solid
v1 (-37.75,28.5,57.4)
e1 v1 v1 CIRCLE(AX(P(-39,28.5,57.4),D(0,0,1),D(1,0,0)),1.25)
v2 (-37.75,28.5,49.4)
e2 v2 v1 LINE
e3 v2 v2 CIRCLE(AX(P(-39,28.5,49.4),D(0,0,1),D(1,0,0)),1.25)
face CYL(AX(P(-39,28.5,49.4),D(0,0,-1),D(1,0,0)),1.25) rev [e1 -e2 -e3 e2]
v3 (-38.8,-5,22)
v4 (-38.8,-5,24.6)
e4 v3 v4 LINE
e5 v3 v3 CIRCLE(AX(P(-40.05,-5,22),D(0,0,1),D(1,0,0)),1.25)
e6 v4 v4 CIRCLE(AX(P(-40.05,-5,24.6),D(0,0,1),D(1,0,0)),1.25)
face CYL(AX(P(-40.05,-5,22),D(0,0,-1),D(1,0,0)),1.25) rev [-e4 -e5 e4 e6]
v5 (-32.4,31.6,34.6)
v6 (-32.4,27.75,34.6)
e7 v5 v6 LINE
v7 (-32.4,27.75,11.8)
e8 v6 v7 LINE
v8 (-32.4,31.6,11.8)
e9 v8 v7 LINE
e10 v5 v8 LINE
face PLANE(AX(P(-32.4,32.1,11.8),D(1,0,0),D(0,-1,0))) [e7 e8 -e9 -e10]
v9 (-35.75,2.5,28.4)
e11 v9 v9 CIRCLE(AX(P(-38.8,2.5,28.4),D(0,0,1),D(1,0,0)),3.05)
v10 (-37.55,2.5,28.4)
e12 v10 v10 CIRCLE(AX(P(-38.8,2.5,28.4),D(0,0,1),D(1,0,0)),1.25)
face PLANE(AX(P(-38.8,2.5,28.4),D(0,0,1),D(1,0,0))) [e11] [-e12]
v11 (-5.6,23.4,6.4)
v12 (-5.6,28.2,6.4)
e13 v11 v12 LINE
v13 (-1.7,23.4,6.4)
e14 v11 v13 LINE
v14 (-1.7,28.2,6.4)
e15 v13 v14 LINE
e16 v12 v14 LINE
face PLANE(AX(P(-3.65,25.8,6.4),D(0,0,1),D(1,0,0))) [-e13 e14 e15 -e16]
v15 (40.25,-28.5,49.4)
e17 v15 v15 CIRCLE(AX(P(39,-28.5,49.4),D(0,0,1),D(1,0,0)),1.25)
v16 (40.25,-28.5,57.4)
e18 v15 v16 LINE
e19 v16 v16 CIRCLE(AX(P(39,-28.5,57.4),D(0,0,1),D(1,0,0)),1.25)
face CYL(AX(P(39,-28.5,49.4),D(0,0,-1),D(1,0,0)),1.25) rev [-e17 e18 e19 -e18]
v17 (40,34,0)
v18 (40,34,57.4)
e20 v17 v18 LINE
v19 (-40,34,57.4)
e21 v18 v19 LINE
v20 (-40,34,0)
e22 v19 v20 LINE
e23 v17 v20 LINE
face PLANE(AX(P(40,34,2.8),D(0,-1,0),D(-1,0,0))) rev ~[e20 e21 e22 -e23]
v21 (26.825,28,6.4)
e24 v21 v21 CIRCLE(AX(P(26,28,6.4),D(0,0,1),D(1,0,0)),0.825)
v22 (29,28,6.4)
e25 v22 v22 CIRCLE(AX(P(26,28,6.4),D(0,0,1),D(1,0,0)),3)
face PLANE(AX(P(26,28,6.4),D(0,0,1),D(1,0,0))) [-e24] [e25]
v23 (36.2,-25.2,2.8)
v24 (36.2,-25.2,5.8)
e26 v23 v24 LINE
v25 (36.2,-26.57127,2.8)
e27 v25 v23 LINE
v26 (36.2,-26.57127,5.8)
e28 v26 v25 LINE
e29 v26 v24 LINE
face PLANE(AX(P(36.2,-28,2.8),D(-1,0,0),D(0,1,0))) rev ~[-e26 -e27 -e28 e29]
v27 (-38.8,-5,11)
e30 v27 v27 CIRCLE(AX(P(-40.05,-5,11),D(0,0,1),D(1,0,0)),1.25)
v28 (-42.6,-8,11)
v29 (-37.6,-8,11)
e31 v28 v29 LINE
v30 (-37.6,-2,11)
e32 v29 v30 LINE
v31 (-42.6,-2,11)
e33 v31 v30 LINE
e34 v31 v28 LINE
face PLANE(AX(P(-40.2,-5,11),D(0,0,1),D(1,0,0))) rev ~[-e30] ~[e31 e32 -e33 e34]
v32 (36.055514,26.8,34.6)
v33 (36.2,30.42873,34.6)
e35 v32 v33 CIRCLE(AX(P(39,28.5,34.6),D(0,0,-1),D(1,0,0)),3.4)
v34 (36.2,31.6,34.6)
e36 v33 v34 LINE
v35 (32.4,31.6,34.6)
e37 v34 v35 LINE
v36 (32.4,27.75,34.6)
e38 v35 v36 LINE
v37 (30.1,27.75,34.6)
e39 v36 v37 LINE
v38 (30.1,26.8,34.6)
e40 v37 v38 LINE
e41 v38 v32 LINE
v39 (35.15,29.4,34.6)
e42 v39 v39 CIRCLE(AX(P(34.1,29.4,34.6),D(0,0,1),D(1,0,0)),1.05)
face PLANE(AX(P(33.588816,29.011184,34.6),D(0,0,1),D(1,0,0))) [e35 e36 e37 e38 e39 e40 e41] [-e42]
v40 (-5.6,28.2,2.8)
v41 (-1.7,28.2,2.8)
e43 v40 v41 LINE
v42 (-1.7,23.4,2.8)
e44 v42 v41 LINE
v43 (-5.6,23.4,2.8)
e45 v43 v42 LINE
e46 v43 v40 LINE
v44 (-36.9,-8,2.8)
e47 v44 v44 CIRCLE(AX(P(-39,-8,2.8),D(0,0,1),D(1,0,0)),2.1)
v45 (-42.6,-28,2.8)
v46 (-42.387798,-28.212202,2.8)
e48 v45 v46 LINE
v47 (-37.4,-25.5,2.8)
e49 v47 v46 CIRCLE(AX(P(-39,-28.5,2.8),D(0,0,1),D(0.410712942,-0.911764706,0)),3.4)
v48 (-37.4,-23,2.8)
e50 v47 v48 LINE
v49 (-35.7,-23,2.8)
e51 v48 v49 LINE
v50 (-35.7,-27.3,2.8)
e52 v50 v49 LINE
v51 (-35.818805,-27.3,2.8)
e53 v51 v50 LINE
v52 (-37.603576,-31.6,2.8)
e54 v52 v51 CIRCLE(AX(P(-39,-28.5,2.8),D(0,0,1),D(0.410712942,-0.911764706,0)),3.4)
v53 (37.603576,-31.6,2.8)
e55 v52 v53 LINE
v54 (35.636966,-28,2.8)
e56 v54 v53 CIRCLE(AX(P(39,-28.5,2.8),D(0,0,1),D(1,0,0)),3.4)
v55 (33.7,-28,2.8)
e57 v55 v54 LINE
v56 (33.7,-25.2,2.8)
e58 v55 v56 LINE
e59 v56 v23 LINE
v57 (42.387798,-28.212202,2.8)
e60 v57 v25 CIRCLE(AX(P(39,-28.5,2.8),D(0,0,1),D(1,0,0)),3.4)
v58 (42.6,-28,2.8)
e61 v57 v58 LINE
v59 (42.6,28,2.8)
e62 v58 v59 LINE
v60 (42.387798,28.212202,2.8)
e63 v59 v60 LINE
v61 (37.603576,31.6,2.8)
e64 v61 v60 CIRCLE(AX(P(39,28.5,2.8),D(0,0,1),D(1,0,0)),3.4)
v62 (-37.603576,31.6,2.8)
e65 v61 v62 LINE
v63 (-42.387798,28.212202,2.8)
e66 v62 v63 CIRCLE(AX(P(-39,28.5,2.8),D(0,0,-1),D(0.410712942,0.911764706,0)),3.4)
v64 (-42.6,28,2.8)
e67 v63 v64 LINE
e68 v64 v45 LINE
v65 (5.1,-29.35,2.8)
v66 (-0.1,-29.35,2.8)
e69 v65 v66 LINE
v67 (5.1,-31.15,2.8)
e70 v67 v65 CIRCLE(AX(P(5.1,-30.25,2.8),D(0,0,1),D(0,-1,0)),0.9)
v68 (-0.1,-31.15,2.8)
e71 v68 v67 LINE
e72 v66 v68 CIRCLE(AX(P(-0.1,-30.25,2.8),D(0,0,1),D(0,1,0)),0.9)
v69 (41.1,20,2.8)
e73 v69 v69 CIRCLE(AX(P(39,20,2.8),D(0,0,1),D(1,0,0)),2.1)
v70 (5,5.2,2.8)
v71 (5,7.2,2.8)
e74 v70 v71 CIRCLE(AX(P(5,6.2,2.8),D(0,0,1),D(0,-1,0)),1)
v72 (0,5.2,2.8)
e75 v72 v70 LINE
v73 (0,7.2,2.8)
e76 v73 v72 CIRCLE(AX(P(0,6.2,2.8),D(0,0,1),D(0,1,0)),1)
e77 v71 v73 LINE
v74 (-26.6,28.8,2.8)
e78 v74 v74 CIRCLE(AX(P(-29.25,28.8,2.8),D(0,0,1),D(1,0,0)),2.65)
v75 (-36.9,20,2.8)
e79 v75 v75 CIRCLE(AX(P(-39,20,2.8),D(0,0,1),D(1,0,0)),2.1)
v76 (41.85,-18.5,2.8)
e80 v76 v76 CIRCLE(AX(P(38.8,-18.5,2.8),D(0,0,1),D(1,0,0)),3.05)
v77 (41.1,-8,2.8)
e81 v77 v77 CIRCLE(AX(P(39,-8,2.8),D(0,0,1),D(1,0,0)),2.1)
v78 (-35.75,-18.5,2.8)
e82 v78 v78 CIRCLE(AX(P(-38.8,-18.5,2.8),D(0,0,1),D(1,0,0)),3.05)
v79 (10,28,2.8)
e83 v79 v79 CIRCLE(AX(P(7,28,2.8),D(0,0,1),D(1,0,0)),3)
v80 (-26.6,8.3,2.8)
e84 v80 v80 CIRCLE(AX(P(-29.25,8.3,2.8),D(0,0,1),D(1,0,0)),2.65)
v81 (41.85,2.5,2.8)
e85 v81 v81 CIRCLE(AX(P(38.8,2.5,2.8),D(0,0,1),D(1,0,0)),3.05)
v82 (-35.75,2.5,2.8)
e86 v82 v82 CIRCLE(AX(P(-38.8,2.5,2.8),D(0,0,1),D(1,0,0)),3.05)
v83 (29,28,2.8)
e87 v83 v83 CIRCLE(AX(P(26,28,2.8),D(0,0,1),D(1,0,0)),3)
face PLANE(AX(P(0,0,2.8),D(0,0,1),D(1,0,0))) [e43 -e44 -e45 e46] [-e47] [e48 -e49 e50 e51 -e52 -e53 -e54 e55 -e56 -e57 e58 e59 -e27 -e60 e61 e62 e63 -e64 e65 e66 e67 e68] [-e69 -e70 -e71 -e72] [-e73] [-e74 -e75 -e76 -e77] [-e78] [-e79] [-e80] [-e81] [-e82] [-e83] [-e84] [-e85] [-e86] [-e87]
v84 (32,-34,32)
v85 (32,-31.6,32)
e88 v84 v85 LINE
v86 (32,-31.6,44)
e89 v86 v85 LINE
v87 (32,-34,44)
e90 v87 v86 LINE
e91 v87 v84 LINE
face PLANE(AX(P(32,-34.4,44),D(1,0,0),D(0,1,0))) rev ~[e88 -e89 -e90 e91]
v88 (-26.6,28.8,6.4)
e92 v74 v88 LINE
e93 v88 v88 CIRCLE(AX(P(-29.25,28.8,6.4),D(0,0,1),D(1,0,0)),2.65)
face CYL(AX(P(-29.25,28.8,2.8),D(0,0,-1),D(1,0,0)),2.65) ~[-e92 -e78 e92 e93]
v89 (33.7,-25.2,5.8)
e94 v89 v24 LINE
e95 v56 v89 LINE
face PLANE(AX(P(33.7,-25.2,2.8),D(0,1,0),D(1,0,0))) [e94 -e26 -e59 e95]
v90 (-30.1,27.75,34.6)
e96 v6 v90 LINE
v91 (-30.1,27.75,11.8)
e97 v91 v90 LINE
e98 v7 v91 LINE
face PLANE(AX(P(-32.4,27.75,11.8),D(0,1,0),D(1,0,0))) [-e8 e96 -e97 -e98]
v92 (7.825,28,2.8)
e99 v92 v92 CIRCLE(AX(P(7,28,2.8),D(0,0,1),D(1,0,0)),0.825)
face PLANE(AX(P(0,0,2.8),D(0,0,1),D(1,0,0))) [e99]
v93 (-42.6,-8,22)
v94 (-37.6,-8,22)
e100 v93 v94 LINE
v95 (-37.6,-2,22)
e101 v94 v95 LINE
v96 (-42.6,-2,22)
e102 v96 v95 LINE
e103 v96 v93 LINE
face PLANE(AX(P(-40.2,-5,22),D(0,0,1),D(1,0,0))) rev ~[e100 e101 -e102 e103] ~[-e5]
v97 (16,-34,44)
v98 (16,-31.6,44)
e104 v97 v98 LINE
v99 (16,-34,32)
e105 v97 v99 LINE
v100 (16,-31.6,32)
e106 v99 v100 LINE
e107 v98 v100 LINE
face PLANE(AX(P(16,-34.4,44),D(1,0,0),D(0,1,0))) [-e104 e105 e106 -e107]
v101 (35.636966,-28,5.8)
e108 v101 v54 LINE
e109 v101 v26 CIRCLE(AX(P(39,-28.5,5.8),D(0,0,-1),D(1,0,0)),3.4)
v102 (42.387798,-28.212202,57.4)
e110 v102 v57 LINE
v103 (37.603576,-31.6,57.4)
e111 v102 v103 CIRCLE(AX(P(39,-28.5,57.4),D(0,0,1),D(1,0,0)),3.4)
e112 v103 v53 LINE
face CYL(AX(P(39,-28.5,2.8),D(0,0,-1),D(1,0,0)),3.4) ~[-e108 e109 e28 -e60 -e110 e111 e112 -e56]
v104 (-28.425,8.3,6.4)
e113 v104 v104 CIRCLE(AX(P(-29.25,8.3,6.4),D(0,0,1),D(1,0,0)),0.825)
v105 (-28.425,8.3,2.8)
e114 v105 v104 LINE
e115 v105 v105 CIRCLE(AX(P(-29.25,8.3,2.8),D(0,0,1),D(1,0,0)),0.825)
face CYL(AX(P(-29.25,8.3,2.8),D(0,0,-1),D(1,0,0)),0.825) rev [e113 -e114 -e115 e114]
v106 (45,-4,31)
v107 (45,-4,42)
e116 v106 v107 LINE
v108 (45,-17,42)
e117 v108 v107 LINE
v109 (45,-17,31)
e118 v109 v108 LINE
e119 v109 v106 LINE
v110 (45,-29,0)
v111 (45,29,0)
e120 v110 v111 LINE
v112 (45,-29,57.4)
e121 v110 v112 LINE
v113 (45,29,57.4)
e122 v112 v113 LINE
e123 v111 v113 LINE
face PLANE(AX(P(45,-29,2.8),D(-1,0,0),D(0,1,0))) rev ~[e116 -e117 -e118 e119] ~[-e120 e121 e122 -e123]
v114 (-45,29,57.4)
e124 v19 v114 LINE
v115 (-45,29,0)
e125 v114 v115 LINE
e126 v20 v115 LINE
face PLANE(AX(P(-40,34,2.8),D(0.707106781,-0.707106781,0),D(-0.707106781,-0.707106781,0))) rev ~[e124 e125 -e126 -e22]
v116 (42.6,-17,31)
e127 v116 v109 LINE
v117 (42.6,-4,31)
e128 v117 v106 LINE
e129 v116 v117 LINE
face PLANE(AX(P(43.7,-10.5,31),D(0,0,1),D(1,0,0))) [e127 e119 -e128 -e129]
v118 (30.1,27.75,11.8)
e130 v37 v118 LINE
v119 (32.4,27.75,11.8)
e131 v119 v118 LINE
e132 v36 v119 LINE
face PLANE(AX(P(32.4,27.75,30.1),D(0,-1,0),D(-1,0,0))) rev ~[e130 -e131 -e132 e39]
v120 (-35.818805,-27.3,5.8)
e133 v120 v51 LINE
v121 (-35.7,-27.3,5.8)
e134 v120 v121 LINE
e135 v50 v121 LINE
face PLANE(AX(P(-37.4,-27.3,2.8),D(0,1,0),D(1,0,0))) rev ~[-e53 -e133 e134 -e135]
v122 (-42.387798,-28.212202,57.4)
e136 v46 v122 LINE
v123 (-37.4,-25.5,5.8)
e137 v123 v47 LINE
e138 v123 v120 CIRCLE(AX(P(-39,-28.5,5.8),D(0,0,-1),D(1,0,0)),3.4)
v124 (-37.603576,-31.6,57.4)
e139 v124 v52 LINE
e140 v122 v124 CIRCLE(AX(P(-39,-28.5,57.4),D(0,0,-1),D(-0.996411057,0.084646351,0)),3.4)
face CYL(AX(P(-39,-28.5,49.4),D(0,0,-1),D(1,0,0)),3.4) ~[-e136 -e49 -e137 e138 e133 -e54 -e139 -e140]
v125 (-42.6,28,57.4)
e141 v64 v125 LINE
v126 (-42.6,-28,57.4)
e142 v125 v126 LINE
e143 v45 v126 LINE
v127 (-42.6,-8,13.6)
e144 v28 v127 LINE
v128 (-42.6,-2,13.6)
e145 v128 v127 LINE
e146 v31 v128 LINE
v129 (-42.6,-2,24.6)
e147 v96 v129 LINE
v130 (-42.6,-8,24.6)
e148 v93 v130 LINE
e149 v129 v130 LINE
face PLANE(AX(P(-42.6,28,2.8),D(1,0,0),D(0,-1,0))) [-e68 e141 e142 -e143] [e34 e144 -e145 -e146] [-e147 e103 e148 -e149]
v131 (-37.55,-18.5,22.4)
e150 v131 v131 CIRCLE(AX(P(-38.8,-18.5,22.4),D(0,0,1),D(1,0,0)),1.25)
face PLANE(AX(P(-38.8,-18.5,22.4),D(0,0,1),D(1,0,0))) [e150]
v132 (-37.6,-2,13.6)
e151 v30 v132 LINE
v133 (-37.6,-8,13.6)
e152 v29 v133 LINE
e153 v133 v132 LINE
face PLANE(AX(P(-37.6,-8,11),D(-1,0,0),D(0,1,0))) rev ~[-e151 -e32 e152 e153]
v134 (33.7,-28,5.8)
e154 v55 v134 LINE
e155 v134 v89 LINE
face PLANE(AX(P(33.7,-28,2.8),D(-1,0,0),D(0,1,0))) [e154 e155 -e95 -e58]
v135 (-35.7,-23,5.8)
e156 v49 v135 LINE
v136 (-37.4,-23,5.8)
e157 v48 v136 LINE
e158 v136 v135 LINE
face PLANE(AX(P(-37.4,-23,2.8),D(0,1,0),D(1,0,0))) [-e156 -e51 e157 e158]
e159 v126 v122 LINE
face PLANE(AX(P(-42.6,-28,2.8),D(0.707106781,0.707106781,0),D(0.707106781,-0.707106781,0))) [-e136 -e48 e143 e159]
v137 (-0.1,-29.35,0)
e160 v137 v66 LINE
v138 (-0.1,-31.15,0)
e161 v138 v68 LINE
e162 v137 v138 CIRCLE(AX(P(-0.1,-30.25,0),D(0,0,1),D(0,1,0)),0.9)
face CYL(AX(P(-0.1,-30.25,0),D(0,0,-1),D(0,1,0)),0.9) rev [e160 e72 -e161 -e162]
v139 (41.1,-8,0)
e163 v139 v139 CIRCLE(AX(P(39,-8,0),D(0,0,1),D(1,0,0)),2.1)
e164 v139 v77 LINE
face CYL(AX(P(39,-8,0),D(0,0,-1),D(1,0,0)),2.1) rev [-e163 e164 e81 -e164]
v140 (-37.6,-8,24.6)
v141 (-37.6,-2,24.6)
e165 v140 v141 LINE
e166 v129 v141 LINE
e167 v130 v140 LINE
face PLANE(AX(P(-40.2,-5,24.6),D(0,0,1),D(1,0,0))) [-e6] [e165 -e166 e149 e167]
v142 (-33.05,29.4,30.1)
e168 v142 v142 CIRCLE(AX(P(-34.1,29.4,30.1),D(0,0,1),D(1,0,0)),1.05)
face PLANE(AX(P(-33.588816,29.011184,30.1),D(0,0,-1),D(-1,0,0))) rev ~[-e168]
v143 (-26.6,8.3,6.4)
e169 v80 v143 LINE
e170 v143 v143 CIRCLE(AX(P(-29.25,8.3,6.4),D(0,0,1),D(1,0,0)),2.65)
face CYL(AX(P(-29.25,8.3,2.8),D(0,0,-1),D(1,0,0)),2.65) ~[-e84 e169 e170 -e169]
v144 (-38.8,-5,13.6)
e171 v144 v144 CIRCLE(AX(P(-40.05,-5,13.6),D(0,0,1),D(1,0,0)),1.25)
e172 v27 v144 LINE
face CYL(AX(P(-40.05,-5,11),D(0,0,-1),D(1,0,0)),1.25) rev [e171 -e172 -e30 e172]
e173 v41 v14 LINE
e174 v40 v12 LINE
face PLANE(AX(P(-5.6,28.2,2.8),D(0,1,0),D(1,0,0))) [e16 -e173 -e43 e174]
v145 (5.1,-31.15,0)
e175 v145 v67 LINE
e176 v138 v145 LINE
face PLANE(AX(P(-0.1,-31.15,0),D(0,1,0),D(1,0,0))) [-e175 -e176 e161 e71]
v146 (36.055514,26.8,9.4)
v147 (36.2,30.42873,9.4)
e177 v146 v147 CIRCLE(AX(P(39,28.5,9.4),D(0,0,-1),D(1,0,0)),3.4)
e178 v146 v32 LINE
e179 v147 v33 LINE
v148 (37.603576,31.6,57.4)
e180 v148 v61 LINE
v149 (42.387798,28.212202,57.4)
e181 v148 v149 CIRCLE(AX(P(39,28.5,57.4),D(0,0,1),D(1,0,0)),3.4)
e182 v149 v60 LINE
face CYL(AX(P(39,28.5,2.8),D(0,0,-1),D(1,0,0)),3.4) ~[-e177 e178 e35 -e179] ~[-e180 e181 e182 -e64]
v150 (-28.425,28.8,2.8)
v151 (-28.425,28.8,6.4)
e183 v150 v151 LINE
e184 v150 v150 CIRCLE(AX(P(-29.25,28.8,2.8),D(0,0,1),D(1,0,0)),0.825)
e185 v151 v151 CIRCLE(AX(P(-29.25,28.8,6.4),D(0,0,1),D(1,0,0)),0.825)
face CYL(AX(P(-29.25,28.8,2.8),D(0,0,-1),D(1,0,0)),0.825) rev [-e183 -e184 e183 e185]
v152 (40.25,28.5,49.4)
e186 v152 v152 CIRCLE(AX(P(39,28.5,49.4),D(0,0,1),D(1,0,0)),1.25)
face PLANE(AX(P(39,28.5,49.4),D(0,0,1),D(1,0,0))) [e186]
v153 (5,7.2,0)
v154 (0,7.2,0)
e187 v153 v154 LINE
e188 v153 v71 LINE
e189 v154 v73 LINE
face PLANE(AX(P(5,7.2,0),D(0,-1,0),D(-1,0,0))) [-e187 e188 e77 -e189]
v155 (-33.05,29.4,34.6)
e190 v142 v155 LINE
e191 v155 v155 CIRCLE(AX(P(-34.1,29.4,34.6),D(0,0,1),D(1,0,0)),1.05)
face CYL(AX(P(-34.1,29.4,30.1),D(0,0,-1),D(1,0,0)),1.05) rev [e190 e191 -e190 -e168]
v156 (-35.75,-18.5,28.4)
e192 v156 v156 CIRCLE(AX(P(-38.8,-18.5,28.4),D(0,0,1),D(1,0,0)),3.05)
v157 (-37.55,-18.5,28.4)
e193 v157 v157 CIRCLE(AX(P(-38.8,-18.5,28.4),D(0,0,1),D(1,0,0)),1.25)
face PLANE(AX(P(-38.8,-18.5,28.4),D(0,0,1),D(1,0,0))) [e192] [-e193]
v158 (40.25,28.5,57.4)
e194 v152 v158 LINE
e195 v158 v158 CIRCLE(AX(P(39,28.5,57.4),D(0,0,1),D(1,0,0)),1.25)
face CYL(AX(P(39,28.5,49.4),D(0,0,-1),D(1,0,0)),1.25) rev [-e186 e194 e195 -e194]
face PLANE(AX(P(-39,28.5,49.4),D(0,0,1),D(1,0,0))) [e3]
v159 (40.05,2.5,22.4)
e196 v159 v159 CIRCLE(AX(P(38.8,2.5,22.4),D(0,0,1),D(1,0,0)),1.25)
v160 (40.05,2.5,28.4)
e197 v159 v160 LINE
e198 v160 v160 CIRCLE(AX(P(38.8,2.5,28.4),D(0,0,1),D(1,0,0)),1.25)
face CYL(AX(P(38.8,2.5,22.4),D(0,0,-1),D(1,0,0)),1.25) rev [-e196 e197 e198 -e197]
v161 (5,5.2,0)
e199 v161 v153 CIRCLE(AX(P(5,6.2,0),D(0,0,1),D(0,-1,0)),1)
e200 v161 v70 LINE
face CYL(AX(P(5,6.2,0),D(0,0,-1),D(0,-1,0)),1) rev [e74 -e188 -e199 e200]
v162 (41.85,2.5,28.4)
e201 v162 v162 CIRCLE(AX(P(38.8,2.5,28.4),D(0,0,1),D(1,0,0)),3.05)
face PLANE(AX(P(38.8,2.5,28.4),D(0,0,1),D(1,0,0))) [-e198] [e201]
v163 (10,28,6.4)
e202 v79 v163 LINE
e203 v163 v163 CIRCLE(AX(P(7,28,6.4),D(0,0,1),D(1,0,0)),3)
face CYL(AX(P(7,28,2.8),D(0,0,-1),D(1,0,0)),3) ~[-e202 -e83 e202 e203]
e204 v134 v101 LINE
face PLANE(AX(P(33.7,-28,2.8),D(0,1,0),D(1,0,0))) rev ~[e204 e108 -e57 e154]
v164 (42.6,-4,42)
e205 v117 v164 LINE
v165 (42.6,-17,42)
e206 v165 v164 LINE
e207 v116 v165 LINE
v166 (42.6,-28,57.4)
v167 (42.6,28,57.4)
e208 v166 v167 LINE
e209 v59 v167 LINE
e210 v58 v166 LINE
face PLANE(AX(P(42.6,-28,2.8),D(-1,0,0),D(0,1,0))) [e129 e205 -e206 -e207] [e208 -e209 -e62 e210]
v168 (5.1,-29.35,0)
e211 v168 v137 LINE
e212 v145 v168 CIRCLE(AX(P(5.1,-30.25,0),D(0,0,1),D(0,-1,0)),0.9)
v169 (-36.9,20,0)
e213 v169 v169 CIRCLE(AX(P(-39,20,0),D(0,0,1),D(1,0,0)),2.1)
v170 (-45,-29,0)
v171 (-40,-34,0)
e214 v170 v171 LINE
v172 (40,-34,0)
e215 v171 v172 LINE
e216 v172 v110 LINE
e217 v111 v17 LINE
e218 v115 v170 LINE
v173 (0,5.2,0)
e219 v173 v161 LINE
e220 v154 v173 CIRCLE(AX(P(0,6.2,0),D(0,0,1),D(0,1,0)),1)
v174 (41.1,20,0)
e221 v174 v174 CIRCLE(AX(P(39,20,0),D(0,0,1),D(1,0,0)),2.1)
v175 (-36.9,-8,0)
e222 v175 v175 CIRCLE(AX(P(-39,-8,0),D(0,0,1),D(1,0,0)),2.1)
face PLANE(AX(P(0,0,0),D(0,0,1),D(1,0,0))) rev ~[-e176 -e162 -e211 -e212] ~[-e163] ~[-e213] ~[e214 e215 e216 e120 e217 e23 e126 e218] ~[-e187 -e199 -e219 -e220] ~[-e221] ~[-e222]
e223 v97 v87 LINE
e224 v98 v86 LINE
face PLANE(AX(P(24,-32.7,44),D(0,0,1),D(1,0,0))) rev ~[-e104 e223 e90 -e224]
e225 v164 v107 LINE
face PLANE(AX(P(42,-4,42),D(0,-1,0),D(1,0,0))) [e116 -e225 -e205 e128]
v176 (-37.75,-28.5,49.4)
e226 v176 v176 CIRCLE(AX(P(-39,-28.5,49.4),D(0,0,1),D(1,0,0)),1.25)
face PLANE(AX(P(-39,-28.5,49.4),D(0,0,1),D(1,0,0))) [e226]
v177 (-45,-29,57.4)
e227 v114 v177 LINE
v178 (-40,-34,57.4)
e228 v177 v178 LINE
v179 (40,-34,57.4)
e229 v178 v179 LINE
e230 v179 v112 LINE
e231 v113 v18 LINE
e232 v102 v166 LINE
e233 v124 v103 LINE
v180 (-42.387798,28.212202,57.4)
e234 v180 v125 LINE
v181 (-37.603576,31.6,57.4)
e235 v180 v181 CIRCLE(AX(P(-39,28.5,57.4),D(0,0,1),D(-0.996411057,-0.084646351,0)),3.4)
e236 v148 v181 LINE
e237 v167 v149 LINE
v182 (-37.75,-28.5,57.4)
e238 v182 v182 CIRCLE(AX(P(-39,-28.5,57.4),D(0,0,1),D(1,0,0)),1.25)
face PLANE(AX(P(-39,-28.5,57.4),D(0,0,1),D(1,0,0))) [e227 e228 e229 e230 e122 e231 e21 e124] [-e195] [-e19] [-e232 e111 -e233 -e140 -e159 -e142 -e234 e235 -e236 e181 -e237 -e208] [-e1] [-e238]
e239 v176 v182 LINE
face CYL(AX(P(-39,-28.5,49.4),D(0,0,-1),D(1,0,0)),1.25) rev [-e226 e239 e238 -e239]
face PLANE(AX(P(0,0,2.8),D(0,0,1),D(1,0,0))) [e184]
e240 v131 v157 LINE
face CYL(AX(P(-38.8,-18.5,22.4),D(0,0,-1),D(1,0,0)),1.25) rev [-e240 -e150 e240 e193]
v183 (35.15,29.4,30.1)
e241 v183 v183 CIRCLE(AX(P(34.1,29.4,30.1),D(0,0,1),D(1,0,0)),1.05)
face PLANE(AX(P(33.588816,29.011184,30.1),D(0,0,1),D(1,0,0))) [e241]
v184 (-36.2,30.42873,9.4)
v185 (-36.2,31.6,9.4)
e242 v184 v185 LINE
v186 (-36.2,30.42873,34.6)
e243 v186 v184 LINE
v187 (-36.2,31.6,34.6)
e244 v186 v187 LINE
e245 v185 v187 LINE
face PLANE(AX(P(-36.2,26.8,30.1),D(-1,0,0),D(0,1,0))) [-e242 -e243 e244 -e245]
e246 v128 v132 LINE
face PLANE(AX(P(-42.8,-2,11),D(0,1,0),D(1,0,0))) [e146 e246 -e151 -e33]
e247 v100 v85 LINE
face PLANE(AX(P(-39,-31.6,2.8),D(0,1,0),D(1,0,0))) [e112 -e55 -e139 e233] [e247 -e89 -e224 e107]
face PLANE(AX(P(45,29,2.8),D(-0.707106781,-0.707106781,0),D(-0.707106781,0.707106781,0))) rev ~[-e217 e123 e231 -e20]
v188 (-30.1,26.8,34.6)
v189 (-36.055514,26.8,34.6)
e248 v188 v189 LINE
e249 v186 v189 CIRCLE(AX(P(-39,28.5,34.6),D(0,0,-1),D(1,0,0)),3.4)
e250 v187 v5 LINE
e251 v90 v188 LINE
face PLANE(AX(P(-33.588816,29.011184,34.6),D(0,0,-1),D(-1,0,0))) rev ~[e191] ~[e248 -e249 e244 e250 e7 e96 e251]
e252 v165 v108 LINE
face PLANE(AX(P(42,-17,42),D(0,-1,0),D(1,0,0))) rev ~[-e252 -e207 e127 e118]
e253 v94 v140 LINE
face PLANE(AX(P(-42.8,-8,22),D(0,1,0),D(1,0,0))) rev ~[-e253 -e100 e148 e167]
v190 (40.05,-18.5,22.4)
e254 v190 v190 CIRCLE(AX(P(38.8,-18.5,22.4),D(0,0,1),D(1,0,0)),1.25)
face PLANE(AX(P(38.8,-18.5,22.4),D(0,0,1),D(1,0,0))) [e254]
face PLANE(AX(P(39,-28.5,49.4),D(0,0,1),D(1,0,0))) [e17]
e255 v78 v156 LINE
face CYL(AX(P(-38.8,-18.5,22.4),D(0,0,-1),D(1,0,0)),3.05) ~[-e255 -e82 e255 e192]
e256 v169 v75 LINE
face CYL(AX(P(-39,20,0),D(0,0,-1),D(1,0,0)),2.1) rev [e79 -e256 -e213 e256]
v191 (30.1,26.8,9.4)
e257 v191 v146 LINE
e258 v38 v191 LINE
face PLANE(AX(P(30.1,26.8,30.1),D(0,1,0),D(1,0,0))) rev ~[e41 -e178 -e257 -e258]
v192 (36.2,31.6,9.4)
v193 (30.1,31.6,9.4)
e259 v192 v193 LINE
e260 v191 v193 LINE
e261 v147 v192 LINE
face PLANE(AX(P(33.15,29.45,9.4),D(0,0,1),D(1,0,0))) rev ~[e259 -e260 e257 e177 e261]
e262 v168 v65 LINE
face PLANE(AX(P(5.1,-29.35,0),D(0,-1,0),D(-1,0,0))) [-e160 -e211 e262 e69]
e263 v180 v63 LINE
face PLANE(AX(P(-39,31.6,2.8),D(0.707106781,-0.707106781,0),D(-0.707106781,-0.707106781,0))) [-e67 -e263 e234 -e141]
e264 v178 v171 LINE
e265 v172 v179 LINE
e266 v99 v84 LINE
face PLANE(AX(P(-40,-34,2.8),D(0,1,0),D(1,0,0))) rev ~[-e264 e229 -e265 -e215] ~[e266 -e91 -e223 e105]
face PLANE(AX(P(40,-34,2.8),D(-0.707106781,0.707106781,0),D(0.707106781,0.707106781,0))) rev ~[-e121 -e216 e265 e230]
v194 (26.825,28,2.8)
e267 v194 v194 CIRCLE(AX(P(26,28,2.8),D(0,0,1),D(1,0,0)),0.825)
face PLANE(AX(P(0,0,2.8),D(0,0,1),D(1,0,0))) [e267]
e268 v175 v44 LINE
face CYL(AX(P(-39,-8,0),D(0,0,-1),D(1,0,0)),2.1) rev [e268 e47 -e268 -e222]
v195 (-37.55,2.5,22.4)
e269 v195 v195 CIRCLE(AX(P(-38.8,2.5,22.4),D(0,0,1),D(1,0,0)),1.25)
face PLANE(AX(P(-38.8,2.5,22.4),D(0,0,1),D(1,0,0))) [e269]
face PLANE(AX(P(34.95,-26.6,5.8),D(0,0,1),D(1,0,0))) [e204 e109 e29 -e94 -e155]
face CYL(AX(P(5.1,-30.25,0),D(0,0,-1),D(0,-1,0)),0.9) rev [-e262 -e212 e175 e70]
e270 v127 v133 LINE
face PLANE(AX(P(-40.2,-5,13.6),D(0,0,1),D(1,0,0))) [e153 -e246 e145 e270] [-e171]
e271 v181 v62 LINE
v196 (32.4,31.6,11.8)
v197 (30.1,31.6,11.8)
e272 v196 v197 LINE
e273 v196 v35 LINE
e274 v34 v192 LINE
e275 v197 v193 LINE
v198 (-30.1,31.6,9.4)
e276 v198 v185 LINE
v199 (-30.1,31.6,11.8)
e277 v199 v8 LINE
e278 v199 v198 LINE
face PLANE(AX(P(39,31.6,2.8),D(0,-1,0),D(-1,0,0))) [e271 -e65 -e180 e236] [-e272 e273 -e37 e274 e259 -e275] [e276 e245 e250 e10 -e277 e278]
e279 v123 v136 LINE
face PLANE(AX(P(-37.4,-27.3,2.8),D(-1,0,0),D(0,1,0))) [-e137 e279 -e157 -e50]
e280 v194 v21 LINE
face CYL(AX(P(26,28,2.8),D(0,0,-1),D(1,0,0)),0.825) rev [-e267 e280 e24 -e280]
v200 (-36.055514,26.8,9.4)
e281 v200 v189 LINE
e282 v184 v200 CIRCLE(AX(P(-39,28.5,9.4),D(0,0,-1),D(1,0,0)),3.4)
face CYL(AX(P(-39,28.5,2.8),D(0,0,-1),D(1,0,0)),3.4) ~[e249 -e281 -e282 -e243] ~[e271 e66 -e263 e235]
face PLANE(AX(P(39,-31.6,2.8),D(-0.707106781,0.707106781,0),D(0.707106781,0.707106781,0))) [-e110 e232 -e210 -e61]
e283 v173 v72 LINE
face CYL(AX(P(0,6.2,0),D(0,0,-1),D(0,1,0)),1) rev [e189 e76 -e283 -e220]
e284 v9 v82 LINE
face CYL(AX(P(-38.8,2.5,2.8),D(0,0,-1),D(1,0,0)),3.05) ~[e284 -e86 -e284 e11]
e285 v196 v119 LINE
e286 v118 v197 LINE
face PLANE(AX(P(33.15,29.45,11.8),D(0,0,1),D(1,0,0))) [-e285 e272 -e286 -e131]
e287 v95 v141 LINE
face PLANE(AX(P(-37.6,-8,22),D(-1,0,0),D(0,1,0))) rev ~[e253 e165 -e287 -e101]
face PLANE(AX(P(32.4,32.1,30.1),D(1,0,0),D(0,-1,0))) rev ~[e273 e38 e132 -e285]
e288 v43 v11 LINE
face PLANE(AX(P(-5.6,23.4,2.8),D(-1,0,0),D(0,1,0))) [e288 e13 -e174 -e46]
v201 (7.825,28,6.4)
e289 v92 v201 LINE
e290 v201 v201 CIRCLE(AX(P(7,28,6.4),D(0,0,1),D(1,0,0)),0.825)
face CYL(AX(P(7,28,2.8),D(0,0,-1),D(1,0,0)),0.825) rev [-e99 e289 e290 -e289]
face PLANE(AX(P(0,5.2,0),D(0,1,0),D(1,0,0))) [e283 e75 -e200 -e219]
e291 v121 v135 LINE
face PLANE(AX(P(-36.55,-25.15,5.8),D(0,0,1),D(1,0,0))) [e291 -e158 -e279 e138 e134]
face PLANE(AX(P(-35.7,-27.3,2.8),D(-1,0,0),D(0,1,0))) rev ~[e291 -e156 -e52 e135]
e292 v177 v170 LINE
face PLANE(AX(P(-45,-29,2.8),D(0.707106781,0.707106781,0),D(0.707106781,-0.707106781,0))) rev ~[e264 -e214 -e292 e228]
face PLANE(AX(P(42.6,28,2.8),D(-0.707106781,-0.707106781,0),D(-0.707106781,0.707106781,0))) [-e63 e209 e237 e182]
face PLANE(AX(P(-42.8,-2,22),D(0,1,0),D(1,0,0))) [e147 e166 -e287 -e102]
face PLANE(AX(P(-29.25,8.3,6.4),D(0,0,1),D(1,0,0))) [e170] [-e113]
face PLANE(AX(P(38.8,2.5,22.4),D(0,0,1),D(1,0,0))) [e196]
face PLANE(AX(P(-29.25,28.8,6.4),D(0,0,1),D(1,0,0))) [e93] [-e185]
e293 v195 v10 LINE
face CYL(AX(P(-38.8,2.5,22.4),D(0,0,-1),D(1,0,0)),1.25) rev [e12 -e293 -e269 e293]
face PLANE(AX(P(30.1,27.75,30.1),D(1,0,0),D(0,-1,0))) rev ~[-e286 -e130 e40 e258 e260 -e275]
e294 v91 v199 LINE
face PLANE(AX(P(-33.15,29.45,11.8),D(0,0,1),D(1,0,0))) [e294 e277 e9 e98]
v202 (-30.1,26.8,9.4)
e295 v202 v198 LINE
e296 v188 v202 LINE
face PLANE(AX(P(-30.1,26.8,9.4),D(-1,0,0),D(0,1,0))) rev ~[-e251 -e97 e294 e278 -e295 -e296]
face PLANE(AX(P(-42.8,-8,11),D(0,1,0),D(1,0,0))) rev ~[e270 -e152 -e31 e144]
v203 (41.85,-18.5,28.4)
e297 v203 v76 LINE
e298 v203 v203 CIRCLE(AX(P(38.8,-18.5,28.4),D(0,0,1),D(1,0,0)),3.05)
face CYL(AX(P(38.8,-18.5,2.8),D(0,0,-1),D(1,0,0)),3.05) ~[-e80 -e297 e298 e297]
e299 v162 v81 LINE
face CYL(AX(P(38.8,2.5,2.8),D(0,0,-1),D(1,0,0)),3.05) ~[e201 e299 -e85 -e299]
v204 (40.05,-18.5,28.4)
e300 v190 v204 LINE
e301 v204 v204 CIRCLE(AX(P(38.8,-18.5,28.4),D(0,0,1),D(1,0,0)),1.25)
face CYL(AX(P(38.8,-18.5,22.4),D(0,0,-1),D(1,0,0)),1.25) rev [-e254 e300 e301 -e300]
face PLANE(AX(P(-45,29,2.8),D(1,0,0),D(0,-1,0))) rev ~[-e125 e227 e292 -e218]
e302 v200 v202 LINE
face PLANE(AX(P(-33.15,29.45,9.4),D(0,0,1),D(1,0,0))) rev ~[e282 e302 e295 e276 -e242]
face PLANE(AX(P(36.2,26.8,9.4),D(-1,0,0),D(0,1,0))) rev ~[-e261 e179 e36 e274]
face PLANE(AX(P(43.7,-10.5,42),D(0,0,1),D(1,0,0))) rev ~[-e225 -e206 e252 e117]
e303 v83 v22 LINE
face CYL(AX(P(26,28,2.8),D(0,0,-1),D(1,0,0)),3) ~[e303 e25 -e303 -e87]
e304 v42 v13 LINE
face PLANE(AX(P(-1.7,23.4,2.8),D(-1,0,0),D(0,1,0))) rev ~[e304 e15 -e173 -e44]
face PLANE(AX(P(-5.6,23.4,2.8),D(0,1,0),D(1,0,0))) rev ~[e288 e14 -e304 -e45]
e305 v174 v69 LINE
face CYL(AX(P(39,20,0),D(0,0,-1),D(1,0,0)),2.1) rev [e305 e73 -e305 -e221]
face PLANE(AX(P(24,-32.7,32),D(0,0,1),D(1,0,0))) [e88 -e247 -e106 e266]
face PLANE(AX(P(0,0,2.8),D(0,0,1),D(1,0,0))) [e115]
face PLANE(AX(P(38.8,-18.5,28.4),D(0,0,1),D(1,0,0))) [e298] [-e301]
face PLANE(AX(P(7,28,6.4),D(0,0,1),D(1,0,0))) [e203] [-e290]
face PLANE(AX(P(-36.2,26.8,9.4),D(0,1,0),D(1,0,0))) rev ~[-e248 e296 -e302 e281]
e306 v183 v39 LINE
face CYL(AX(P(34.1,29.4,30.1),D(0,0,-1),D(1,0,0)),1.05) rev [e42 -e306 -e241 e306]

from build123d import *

# Parameters (mm, degrees)
FLOOR_CASE_MOUNTING_AND_BATTERY_ST_2_R       = 2.1
FLOOR_CASE_MOUNTING_AND_BATTERY_STRAP_DEPTH  = 2.8
F_2_4_START                                  = 2.8
F_2_4_MM_WALLS_DEPTH                         = 54.6
LID_START                                    = 2.8
LID_POSTS_D2_5_PILOTS_CORE_PROFILE_R         = 3.4
LID_POSTS_D2_5_PILOTS_CORE_DEPTH             = 46.6
LID_START_2                                  = 49.4
LID_POSTS_D2_5_PILOTS_PROFILE_R              = 3.4
LID_POSTS_D2_5_PILOTS_PROFILE_R_2            = 1.25
LID_POSTS_D2_5_PILOTS_DEPTH                  = 8
UPPER_START                                  = 2.8
UPPER_SHELF_POSTS_D2_5_PILOTS_CORE_PRO_R     = 3.05
UPPER_SHELF_POSTS_D2_5_PILOTS_CORE_DEPTH     = 19.6
UPPER_START_2                                = 22.4
UPPER_SHELF_POSTS_D2_5_PILOTS_PROFILE_R      = 3.05
UPPER_SHELF_POSTS_D2_5_PILOTS_PROFILE_R_2    = 1.25
UPPER_SHELF_POSTS_D2_5_PILOTS_DEPTH          = 6
IIM_START                                    = 2.8
IIM_SENSOR_TWO_D1_65_PILOTS_ON_19_2_R        = 3
IIM_SENSOR_TWO_D1_65_PILOTS_ON_19_2_R_2      = 0.825
IIM_SENSOR_TWO_D1_65_PILOTS_ON_19_MM_C_DEPTH = 3.6
LC76G_START                                  = 2.8
LC76G_PROVISIONAL_D1_65_PILOTS_PROFILE_R     = 2.65
LC76G_PROVISIONAL_D1_65_PILOTS_PROFILE_R_2   = 0.825
LC76G_PROVISIONAL_D1_65_PILOTS_DEPTH         = 3.6
GNSS_START                                   = 2.8
GNSS_UN_DRILLED_SUPPORT_PROFILE_W            = 3.9
GNSS_UN_DRILLED_SUPPORT_PROFILE_H            = 4.8
GNSS_UN_DRILLED_SUPPORT_DEPTH                = 3.6
BATTERY_START                                = 2.8
BATTERY_LOCATING_END_STOPS_PROFILE_W         = 1.7
BATTERY_LOCATING_END_STOPS_PROFILE_H         = 4.3
BATTERY_LOCATING_END_STOPS_PROFILE_W_2       = 2.5
BATTERY_LOCATING_END_STOPS_PROFILE_H_2       = 2.8
BATTERY_LOCATING_END_STOPS_DEPTH             = 3
POWER_START                                  = 9.4
POWER_PLATE_GUIDE_SEATS_PROFILE_W            = 6.1
POWER_PLATE_GUIDE_SEATS_PROFILE_H            = 5.3
POWER_PLATE_GUIDE_SEATS_DEPTH                = 2.4
POWER_START_2                                = 11.8
POWER_PLATE_REAR_GUIDE_CHANNELS_DEPTH        = 18.3
POWER_START_3                                = 30.1
POWER_PLATE_GUIDE_ENDS_KEEPER_WASH_2_R       = 1.05
POWER_PLATE_GUIDE_ENDS_KEEPER_WASHER_P_DEPTH = 4.5
VERTICAL_START                               = 11
VERTICAL_CABLE_TIES_D2_5_GUIDE_EYES_PR_W     = 5.2
VERTICAL_CABLE_TIES_D2_5_GUIDE_EYES_PR_H     = 6
VERTICAL_CABLE_TIES_D2_5_GUIDE_EYES_PR_R     = 1.25
VERTICAL_CABLE_TIES_D2_5_GUIDE_EYES_DEPTH    = 2.6
UPPER_START_3                                = 22
UPPER_CABLE_TIE_EYE_PROFILE_W                = 5.2
UPPER_CABLE_TIE_EYE_PROFILE_H                = 6
UPPER_CABLE_TIE_EYE_PROFILE_R                = 1.25
UPPER_CABLE_TIE_EYE_DEPTH                    = 2.6
USB_START                                    = 42
USB_ACCESS_RESERVE_13_X_11_PROFILE_W         = 3.4
USB_ACCESS_RESERVE_13_X_11_PROFILE_H         = 13
USB_ACCESS_RESERVE_13_X_11_DEPTH             = 11
LORA_START                                   = 44
LORA_ANTENNA_RESERVE_16_X_12_PROFILE_W       = 16
LORA_ANTENNA_RESERVE_16_X_12_PROFILE_H       = 3.4
LORA_ANTENNA_RESERVE_16_X_12_DEPTH           = 12


with BuildPart() as part:
    # Floor - case mounting and battery st 2 → Floor - case mounting and battery strap (new body)
    with BuildSketch(Plane.XY):
        Polygon((-40, -34), (40, -34), (45, -29), (45, 29), (40, 34), (-40, 34), (-45, 29), (-45, -29), align=None)
        with Locations((-39, -8)):
            Circle(FLOOR_CASE_MOUNTING_AND_BATTERY_ST_2_R, mode=Mode.SUBTRACT)
        with Locations((39, -8)):
            Circle(FLOOR_CASE_MOUNTING_AND_BATTERY_ST_2_R, mode=Mode.SUBTRACT)
        with Locations((-39, 20)):
            Circle(FLOOR_CASE_MOUNTING_AND_BATTERY_ST_2_R, mode=Mode.SUBTRACT)
        with Locations((39, 20)):
            Circle(FLOOR_CASE_MOUNTING_AND_BATTERY_ST_2_R, mode=Mode.SUBTRACT)
        with BuildLine():
            Line((-0.1, -31.15), (5.1, -31.15))
            ThreePointArc((5.1, -31.15), (6, -30.25), (5.1, -29.35))
            Line((5.1, -29.35), (-0.1, -29.35))
            ThreePointArc((-0.1, -29.35), (-1, -30.25), (-0.1, -31.15))
        make_face(mode=Mode.SUBTRACT)
        with BuildLine():
            Line((0, 5.2), (5, 5.2))
            ThreePointArc((5, 5.2), (6, 6.2), (5, 7.2))
            Line((5, 7.2), (0, 7.2))
            ThreePointArc((0, 7.2), (-1, 6.2), (0, 5.2))
        make_face(mode=Mode.SUBTRACT)
    extrude(amount=FLOOR_CASE_MOUNTING_AND_BATTERY_STRAP_DEPTH)

    # 2.4 mm walls profile → 2.4 mm walls (add)
    with BuildSketch(Plane.XY.offset(F_2_4_START)):
        Polygon((-40, -34), (40, -34), (45, -29), (45, 29), (40, 34), (-40, 34), (-45, 29), (-45, -29), align=None)
        Polygon((-39, -31.6), (39, -31.6), (42.6, -28), (42.6, 28), (39, 31.6), (-39, 31.6), (-42.6, 28), (-42.6, -28), align=None, mode=Mode.SUBTRACT)
    extrude(amount=F_2_4_MM_WALLS_DEPTH)

    # Lid posts - D2.5 pilots core profile → Lid posts - D2.5 pilots core (add)
    with BuildSketch(Plane.XY.offset(LID_START)):
        with Locations((-39, -28.5)):
            Circle(LID_POSTS_D2_5_PILOTS_CORE_PROFILE_R)
        with Locations((39, -28.5)):
            Circle(LID_POSTS_D2_5_PILOTS_CORE_PROFILE_R)
        with Locations((-39, 28.5)):
            Circle(LID_POSTS_D2_5_PILOTS_CORE_PROFILE_R)
        with Locations((39, 28.5)):
            Circle(LID_POSTS_D2_5_PILOTS_CORE_PROFILE_R)
    extrude(amount=LID_POSTS_D2_5_PILOTS_CORE_DEPTH)

    # Lid posts - D2.5 pilots profile → Lid posts - D2.5 pilots (add)
    # profile 1 of 4: a face of its own
    with BuildSketch(Plane.XY.offset(LID_START_2)):
        with Locations((-39, -28.5)):
            Circle(LID_POSTS_D2_5_PILOTS_PROFILE_R)
        with Locations((-39, -28.5)):
            Circle(LID_POSTS_D2_5_PILOTS_PROFILE_R_2, mode=Mode.SUBTRACT)
    # profile 2 of 4: a face of its own
    with BuildSketch(Plane.XY.offset(LID_START_2)):
        with Locations((39, -28.5)):
            Circle(LID_POSTS_D2_5_PILOTS_PROFILE_R)
        with Locations((39, -28.5)):
            Circle(LID_POSTS_D2_5_PILOTS_PROFILE_R_2, mode=Mode.SUBTRACT)
    # profile 3 of 4: a face of its own
    with BuildSketch(Plane.XY.offset(LID_START_2)):
        with Locations((-39, 28.5)):
            Circle(LID_POSTS_D2_5_PILOTS_PROFILE_R)
        with Locations((-39, 28.5)):
            Circle(LID_POSTS_D2_5_PILOTS_PROFILE_R_2, mode=Mode.SUBTRACT)
    # profile 4 of 4: a face of its own
    with BuildSketch(Plane.XY.offset(LID_START_2)):
        with Locations((39, 28.5)):
            Circle(LID_POSTS_D2_5_PILOTS_PROFILE_R)
        with Locations((39, 28.5)):
            Circle(LID_POSTS_D2_5_PILOTS_PROFILE_R_2, mode=Mode.SUBTRACT)
    extrude(amount=LID_POSTS_D2_5_PILOTS_DEPTH)

    # Upper shelf posts - D2.5 pilots core profile → Upper shelf posts - D2.5 pilots core (add)
    with BuildSketch(Plane.XY.offset(UPPER_START)):
        with Locations((-38.8, -18.5)):
            Circle(UPPER_SHELF_POSTS_D2_5_PILOTS_CORE_PRO_R)
        with Locations((38.8, -18.5)):
            Circle(UPPER_SHELF_POSTS_D2_5_PILOTS_CORE_PRO_R)
        with Locations((-38.8, 2.5)):
            Circle(UPPER_SHELF_POSTS_D2_5_PILOTS_CORE_PRO_R)
        with Locations((38.8, 2.5)):
            Circle(UPPER_SHELF_POSTS_D2_5_PILOTS_CORE_PRO_R)
    extrude(amount=UPPER_SHELF_POSTS_D2_5_PILOTS_CORE_DEPTH)

    # Upper shelf posts - D2.5 pilots profile → Upper shelf posts - D2.5 pilots (add)
    # profile 1 of 4: a face of its own
    with BuildSketch(Plane.XY.offset(UPPER_START_2)):
        with Locations((-38.8, -18.5)):
            Circle(UPPER_SHELF_POSTS_D2_5_PILOTS_PROFILE_R)
        with Locations((-38.8, -18.5)):
            Circle(UPPER_SHELF_POSTS_D2_5_PILOTS_PROFILE_R_2, mode=Mode.SUBTRACT)
    # profile 2 of 4: a face of its own
    with BuildSketch(Plane.XY.offset(UPPER_START_2)):
        with Locations((38.8, -18.5)):
            Circle(UPPER_SHELF_POSTS_D2_5_PILOTS_PROFILE_R)
        with Locations((38.8, -18.5)):
            Circle(UPPER_SHELF_POSTS_D2_5_PILOTS_PROFILE_R_2, mode=Mode.SUBTRACT)
    # profile 3 of 4: a face of its own
    with BuildSketch(Plane.XY.offset(UPPER_START_2)):
        with Locations((-38.8, 2.5)):
            Circle(UPPER_SHELF_POSTS_D2_5_PILOTS_PROFILE_R)
        with Locations((-38.8, 2.5)):
            Circle(UPPER_SHELF_POSTS_D2_5_PILOTS_PROFILE_R_2, mode=Mode.SUBTRACT)
    # profile 4 of 4: a face of its own
    with BuildSketch(Plane.XY.offset(UPPER_START_2)):
        with Locations((38.8, 2.5)):
            Circle(UPPER_SHELF_POSTS_D2_5_PILOTS_PROFILE_R)
        with Locations((38.8, 2.5)):
            Circle(UPPER_SHELF_POSTS_D2_5_PILOTS_PROFILE_R_2, mode=Mode.SUBTRACT)
    extrude(amount=UPPER_SHELF_POSTS_D2_5_PILOTS_DEPTH)

    # IIM sensor - two D1.65 pilots on 19  2 → IIM sensor - two D1.65 pilots on 19 mm c (add)
    # profile 1 of 2: a face of its own
    with BuildSketch(Plane.XY.offset(IIM_START)):
        with Locations((7, 28)):
            Circle(IIM_SENSOR_TWO_D1_65_PILOTS_ON_19_2_R)
        with Locations((7, 28)):
            Circle(IIM_SENSOR_TWO_D1_65_PILOTS_ON_19_2_R_2, mode=Mode.SUBTRACT)
    # profile 2 of 2: a face of its own
    with BuildSketch(Plane.XY.offset(IIM_START)):
        with Locations((26, 28)):
            Circle(IIM_SENSOR_TWO_D1_65_PILOTS_ON_19_2_R)
        with Locations((26, 28)):
            Circle(IIM_SENSOR_TWO_D1_65_PILOTS_ON_19_2_R_2, mode=Mode.SUBTRACT)
    extrude(amount=IIM_SENSOR_TWO_D1_65_PILOTS_ON_19_MM_C_DEPTH)

    # LC76G provisional D1.65 pilots profile → LC76G provisional D1.65 pilots (add)
    # profile 1 of 2: a face of its own
    with BuildSketch(Plane.XY.offset(LC76G_START)):
        with Locations((-29.25, 8.3)):
            Circle(LC76G_PROVISIONAL_D1_65_PILOTS_PROFILE_R)
        with Locations((-29.25, 8.3)):
            Circle(LC76G_PROVISIONAL_D1_65_PILOTS_PROFILE_R_2, mode=Mode.SUBTRACT)
    # profile 2 of 2: a face of its own
    with BuildSketch(Plane.XY.offset(LC76G_START)):
        with Locations((-29.25, 28.8)):
            Circle(LC76G_PROVISIONAL_D1_65_PILOTS_PROFILE_R)
        with Locations((-29.25, 28.8)):
            Circle(LC76G_PROVISIONAL_D1_65_PILOTS_PROFILE_R_2, mode=Mode.SUBTRACT)
    extrude(amount=LC76G_PROVISIONAL_D1_65_PILOTS_DEPTH)

    # GNSS un-drilled support profile → GNSS un-drilled support (add)
    with BuildSketch(Plane.XY.offset(GNSS_START)):
        with Locations((-3.65, 25.8)):
            Rectangle(GNSS_UN_DRILLED_SUPPORT_PROFILE_W, GNSS_UN_DRILLED_SUPPORT_PROFILE_H)
    extrude(amount=GNSS_UN_DRILLED_SUPPORT_DEPTH)

    # Battery locating end stops profile → Battery locating end stops (add)
    with BuildSketch(Plane.XY.offset(BATTERY_START)):
        with Locations((-36.55, -25.15)):
            Rectangle(BATTERY_LOCATING_END_STOPS_PROFILE_W, BATTERY_LOCATING_END_STOPS_PROFILE_H)
        with Locations((34.95, -26.6)):
            Rectangle(BATTERY_LOCATING_END_STOPS_PROFILE_W_2, BATTERY_LOCATING_END_STOPS_PROFILE_H_2)
    extrude(amount=BATTERY_LOCATING_END_STOPS_DEPTH)

    # Power plate guide seats profile → Power plate guide seats (add)
    with BuildSketch(Plane.XY.offset(POWER_START)):
        with Locations((-33.15, 29.45)):
            Rectangle(POWER_PLATE_GUIDE_SEATS_PROFILE_W, POWER_PLATE_GUIDE_SEATS_PROFILE_H)
        with Locations((33.15, 29.45)):
            Rectangle(POWER_PLATE_GUIDE_SEATS_PROFILE_W, POWER_PLATE_GUIDE_SEATS_PROFILE_H)
    extrude(amount=POWER_PLATE_GUIDE_SEATS_DEPTH)

    # Power plate rear guide channels profile → Power plate rear guide channels (add)
    with BuildSketch(Plane.XY.offset(POWER_START_2)):
        Polygon((30.1, 26.8), (36.2, 26.8), (36.2, 32.1), (32.4, 32.1), (32.4, 27.75), (30.1, 27.75), align=None)
        Polygon((-30.1, 26.8), (-36.2, 26.8), (-36.2, 32.1), (-32.4, 32.1), (-32.4, 27.75), (-30.1, 27.75), align=None)
    extrude(amount=POWER_PLATE_REAR_GUIDE_CHANNELS_DEPTH)

    # Power plate guide ends - keeper wash 2 → Power plate guide ends - keeper washer p (add)
    # profile 1 of 2: a face of its own
    with BuildSketch(Plane.XY.offset(POWER_START_3)):
        Polygon((30.1, 26.8), (36.2, 26.8), (36.2, 32.1), (32.4, 32.1), (32.4, 27.75), (30.1, 27.75), align=None)
        with Locations((34.1, 29.4)):
            Circle(POWER_PLATE_GUIDE_ENDS_KEEPER_WASH_2_R, mode=Mode.SUBTRACT)
    # profile 2 of 2: a face of its own
    with BuildSketch(Plane.XY.offset(POWER_START_3)):
        Polygon((-30.1, 26.8), (-36.2, 26.8), (-36.2, 32.1), (-32.4, 32.1), (-32.4, 27.75), (-30.1, 27.75), align=None)
        with Locations((-34.1, 29.4)):
            Circle(POWER_PLATE_GUIDE_ENDS_KEEPER_WASH_2_R, mode=Mode.SUBTRACT)
    extrude(amount=POWER_PLATE_GUIDE_ENDS_KEEPER_WASHER_P_DEPTH)

    # Vertical cable ties - D2.5 guide eyes profile → Vertical cable ties - D2.5 guide eyes (add)
    with BuildSketch(Plane.XY.offset(VERTICAL_START)):
        with Locations((-40.2, -5)):
            Rectangle(VERTICAL_CABLE_TIES_D2_5_GUIDE_EYES_PR_W, VERTICAL_CABLE_TIES_D2_5_GUIDE_EYES_PR_H)
        with Locations((-40.05, -5)):
            Circle(VERTICAL_CABLE_TIES_D2_5_GUIDE_EYES_PR_R, mode=Mode.SUBTRACT)
    extrude(amount=VERTICAL_CABLE_TIES_D2_5_GUIDE_EYES_DEPTH)

    # Upper cable tie eye profile → Upper cable tie eye (add)
    with BuildSketch(Plane.XY.offset(UPPER_START_3)):
        with Locations((-40.2, -5)):
            Rectangle(UPPER_CABLE_TIE_EYE_PROFILE_W, UPPER_CABLE_TIE_EYE_PROFILE_H)
        with Locations((-40.05, -5)):
            Circle(UPPER_CABLE_TIE_EYE_PROFILE_R, mode=Mode.SUBTRACT)
    extrude(amount=UPPER_CABLE_TIE_EYE_DEPTH)

    # USB access reserve 13 x 11 profile → USB access reserve 13 x 11 (cut)
    with BuildSketch(Plane.XY.offset(USB_START)):
        with Locations((43.7, -10.5)):
            Rectangle(USB_ACCESS_RESERVE_13_X_11_PROFILE_W, USB_ACCESS_RESERVE_13_X_11_PROFILE_H)
    extrude(amount=-USB_ACCESS_RESERVE_13_X_11_DEPTH, mode=Mode.SUBTRACT)

    # LoRa antenna reserve 16 x 12 profile → LoRa antenna reserve 16 x 12 (cut)
    with BuildSketch(Plane.XY.offset(LORA_START)):
        with Locations((24, -32.7)):
            Rectangle(LORA_ANTENNA_RESERVE_16_X_12_PROFILE_W, LORA_ANTENNA_RESERVE_16_X_12_PROFILE_H)
    extrude(amount=-LORA_ANTENNA_RESERVE_16_X_12_DEPTH, mode=Mode.SUBTRACT)


solid = part.part
